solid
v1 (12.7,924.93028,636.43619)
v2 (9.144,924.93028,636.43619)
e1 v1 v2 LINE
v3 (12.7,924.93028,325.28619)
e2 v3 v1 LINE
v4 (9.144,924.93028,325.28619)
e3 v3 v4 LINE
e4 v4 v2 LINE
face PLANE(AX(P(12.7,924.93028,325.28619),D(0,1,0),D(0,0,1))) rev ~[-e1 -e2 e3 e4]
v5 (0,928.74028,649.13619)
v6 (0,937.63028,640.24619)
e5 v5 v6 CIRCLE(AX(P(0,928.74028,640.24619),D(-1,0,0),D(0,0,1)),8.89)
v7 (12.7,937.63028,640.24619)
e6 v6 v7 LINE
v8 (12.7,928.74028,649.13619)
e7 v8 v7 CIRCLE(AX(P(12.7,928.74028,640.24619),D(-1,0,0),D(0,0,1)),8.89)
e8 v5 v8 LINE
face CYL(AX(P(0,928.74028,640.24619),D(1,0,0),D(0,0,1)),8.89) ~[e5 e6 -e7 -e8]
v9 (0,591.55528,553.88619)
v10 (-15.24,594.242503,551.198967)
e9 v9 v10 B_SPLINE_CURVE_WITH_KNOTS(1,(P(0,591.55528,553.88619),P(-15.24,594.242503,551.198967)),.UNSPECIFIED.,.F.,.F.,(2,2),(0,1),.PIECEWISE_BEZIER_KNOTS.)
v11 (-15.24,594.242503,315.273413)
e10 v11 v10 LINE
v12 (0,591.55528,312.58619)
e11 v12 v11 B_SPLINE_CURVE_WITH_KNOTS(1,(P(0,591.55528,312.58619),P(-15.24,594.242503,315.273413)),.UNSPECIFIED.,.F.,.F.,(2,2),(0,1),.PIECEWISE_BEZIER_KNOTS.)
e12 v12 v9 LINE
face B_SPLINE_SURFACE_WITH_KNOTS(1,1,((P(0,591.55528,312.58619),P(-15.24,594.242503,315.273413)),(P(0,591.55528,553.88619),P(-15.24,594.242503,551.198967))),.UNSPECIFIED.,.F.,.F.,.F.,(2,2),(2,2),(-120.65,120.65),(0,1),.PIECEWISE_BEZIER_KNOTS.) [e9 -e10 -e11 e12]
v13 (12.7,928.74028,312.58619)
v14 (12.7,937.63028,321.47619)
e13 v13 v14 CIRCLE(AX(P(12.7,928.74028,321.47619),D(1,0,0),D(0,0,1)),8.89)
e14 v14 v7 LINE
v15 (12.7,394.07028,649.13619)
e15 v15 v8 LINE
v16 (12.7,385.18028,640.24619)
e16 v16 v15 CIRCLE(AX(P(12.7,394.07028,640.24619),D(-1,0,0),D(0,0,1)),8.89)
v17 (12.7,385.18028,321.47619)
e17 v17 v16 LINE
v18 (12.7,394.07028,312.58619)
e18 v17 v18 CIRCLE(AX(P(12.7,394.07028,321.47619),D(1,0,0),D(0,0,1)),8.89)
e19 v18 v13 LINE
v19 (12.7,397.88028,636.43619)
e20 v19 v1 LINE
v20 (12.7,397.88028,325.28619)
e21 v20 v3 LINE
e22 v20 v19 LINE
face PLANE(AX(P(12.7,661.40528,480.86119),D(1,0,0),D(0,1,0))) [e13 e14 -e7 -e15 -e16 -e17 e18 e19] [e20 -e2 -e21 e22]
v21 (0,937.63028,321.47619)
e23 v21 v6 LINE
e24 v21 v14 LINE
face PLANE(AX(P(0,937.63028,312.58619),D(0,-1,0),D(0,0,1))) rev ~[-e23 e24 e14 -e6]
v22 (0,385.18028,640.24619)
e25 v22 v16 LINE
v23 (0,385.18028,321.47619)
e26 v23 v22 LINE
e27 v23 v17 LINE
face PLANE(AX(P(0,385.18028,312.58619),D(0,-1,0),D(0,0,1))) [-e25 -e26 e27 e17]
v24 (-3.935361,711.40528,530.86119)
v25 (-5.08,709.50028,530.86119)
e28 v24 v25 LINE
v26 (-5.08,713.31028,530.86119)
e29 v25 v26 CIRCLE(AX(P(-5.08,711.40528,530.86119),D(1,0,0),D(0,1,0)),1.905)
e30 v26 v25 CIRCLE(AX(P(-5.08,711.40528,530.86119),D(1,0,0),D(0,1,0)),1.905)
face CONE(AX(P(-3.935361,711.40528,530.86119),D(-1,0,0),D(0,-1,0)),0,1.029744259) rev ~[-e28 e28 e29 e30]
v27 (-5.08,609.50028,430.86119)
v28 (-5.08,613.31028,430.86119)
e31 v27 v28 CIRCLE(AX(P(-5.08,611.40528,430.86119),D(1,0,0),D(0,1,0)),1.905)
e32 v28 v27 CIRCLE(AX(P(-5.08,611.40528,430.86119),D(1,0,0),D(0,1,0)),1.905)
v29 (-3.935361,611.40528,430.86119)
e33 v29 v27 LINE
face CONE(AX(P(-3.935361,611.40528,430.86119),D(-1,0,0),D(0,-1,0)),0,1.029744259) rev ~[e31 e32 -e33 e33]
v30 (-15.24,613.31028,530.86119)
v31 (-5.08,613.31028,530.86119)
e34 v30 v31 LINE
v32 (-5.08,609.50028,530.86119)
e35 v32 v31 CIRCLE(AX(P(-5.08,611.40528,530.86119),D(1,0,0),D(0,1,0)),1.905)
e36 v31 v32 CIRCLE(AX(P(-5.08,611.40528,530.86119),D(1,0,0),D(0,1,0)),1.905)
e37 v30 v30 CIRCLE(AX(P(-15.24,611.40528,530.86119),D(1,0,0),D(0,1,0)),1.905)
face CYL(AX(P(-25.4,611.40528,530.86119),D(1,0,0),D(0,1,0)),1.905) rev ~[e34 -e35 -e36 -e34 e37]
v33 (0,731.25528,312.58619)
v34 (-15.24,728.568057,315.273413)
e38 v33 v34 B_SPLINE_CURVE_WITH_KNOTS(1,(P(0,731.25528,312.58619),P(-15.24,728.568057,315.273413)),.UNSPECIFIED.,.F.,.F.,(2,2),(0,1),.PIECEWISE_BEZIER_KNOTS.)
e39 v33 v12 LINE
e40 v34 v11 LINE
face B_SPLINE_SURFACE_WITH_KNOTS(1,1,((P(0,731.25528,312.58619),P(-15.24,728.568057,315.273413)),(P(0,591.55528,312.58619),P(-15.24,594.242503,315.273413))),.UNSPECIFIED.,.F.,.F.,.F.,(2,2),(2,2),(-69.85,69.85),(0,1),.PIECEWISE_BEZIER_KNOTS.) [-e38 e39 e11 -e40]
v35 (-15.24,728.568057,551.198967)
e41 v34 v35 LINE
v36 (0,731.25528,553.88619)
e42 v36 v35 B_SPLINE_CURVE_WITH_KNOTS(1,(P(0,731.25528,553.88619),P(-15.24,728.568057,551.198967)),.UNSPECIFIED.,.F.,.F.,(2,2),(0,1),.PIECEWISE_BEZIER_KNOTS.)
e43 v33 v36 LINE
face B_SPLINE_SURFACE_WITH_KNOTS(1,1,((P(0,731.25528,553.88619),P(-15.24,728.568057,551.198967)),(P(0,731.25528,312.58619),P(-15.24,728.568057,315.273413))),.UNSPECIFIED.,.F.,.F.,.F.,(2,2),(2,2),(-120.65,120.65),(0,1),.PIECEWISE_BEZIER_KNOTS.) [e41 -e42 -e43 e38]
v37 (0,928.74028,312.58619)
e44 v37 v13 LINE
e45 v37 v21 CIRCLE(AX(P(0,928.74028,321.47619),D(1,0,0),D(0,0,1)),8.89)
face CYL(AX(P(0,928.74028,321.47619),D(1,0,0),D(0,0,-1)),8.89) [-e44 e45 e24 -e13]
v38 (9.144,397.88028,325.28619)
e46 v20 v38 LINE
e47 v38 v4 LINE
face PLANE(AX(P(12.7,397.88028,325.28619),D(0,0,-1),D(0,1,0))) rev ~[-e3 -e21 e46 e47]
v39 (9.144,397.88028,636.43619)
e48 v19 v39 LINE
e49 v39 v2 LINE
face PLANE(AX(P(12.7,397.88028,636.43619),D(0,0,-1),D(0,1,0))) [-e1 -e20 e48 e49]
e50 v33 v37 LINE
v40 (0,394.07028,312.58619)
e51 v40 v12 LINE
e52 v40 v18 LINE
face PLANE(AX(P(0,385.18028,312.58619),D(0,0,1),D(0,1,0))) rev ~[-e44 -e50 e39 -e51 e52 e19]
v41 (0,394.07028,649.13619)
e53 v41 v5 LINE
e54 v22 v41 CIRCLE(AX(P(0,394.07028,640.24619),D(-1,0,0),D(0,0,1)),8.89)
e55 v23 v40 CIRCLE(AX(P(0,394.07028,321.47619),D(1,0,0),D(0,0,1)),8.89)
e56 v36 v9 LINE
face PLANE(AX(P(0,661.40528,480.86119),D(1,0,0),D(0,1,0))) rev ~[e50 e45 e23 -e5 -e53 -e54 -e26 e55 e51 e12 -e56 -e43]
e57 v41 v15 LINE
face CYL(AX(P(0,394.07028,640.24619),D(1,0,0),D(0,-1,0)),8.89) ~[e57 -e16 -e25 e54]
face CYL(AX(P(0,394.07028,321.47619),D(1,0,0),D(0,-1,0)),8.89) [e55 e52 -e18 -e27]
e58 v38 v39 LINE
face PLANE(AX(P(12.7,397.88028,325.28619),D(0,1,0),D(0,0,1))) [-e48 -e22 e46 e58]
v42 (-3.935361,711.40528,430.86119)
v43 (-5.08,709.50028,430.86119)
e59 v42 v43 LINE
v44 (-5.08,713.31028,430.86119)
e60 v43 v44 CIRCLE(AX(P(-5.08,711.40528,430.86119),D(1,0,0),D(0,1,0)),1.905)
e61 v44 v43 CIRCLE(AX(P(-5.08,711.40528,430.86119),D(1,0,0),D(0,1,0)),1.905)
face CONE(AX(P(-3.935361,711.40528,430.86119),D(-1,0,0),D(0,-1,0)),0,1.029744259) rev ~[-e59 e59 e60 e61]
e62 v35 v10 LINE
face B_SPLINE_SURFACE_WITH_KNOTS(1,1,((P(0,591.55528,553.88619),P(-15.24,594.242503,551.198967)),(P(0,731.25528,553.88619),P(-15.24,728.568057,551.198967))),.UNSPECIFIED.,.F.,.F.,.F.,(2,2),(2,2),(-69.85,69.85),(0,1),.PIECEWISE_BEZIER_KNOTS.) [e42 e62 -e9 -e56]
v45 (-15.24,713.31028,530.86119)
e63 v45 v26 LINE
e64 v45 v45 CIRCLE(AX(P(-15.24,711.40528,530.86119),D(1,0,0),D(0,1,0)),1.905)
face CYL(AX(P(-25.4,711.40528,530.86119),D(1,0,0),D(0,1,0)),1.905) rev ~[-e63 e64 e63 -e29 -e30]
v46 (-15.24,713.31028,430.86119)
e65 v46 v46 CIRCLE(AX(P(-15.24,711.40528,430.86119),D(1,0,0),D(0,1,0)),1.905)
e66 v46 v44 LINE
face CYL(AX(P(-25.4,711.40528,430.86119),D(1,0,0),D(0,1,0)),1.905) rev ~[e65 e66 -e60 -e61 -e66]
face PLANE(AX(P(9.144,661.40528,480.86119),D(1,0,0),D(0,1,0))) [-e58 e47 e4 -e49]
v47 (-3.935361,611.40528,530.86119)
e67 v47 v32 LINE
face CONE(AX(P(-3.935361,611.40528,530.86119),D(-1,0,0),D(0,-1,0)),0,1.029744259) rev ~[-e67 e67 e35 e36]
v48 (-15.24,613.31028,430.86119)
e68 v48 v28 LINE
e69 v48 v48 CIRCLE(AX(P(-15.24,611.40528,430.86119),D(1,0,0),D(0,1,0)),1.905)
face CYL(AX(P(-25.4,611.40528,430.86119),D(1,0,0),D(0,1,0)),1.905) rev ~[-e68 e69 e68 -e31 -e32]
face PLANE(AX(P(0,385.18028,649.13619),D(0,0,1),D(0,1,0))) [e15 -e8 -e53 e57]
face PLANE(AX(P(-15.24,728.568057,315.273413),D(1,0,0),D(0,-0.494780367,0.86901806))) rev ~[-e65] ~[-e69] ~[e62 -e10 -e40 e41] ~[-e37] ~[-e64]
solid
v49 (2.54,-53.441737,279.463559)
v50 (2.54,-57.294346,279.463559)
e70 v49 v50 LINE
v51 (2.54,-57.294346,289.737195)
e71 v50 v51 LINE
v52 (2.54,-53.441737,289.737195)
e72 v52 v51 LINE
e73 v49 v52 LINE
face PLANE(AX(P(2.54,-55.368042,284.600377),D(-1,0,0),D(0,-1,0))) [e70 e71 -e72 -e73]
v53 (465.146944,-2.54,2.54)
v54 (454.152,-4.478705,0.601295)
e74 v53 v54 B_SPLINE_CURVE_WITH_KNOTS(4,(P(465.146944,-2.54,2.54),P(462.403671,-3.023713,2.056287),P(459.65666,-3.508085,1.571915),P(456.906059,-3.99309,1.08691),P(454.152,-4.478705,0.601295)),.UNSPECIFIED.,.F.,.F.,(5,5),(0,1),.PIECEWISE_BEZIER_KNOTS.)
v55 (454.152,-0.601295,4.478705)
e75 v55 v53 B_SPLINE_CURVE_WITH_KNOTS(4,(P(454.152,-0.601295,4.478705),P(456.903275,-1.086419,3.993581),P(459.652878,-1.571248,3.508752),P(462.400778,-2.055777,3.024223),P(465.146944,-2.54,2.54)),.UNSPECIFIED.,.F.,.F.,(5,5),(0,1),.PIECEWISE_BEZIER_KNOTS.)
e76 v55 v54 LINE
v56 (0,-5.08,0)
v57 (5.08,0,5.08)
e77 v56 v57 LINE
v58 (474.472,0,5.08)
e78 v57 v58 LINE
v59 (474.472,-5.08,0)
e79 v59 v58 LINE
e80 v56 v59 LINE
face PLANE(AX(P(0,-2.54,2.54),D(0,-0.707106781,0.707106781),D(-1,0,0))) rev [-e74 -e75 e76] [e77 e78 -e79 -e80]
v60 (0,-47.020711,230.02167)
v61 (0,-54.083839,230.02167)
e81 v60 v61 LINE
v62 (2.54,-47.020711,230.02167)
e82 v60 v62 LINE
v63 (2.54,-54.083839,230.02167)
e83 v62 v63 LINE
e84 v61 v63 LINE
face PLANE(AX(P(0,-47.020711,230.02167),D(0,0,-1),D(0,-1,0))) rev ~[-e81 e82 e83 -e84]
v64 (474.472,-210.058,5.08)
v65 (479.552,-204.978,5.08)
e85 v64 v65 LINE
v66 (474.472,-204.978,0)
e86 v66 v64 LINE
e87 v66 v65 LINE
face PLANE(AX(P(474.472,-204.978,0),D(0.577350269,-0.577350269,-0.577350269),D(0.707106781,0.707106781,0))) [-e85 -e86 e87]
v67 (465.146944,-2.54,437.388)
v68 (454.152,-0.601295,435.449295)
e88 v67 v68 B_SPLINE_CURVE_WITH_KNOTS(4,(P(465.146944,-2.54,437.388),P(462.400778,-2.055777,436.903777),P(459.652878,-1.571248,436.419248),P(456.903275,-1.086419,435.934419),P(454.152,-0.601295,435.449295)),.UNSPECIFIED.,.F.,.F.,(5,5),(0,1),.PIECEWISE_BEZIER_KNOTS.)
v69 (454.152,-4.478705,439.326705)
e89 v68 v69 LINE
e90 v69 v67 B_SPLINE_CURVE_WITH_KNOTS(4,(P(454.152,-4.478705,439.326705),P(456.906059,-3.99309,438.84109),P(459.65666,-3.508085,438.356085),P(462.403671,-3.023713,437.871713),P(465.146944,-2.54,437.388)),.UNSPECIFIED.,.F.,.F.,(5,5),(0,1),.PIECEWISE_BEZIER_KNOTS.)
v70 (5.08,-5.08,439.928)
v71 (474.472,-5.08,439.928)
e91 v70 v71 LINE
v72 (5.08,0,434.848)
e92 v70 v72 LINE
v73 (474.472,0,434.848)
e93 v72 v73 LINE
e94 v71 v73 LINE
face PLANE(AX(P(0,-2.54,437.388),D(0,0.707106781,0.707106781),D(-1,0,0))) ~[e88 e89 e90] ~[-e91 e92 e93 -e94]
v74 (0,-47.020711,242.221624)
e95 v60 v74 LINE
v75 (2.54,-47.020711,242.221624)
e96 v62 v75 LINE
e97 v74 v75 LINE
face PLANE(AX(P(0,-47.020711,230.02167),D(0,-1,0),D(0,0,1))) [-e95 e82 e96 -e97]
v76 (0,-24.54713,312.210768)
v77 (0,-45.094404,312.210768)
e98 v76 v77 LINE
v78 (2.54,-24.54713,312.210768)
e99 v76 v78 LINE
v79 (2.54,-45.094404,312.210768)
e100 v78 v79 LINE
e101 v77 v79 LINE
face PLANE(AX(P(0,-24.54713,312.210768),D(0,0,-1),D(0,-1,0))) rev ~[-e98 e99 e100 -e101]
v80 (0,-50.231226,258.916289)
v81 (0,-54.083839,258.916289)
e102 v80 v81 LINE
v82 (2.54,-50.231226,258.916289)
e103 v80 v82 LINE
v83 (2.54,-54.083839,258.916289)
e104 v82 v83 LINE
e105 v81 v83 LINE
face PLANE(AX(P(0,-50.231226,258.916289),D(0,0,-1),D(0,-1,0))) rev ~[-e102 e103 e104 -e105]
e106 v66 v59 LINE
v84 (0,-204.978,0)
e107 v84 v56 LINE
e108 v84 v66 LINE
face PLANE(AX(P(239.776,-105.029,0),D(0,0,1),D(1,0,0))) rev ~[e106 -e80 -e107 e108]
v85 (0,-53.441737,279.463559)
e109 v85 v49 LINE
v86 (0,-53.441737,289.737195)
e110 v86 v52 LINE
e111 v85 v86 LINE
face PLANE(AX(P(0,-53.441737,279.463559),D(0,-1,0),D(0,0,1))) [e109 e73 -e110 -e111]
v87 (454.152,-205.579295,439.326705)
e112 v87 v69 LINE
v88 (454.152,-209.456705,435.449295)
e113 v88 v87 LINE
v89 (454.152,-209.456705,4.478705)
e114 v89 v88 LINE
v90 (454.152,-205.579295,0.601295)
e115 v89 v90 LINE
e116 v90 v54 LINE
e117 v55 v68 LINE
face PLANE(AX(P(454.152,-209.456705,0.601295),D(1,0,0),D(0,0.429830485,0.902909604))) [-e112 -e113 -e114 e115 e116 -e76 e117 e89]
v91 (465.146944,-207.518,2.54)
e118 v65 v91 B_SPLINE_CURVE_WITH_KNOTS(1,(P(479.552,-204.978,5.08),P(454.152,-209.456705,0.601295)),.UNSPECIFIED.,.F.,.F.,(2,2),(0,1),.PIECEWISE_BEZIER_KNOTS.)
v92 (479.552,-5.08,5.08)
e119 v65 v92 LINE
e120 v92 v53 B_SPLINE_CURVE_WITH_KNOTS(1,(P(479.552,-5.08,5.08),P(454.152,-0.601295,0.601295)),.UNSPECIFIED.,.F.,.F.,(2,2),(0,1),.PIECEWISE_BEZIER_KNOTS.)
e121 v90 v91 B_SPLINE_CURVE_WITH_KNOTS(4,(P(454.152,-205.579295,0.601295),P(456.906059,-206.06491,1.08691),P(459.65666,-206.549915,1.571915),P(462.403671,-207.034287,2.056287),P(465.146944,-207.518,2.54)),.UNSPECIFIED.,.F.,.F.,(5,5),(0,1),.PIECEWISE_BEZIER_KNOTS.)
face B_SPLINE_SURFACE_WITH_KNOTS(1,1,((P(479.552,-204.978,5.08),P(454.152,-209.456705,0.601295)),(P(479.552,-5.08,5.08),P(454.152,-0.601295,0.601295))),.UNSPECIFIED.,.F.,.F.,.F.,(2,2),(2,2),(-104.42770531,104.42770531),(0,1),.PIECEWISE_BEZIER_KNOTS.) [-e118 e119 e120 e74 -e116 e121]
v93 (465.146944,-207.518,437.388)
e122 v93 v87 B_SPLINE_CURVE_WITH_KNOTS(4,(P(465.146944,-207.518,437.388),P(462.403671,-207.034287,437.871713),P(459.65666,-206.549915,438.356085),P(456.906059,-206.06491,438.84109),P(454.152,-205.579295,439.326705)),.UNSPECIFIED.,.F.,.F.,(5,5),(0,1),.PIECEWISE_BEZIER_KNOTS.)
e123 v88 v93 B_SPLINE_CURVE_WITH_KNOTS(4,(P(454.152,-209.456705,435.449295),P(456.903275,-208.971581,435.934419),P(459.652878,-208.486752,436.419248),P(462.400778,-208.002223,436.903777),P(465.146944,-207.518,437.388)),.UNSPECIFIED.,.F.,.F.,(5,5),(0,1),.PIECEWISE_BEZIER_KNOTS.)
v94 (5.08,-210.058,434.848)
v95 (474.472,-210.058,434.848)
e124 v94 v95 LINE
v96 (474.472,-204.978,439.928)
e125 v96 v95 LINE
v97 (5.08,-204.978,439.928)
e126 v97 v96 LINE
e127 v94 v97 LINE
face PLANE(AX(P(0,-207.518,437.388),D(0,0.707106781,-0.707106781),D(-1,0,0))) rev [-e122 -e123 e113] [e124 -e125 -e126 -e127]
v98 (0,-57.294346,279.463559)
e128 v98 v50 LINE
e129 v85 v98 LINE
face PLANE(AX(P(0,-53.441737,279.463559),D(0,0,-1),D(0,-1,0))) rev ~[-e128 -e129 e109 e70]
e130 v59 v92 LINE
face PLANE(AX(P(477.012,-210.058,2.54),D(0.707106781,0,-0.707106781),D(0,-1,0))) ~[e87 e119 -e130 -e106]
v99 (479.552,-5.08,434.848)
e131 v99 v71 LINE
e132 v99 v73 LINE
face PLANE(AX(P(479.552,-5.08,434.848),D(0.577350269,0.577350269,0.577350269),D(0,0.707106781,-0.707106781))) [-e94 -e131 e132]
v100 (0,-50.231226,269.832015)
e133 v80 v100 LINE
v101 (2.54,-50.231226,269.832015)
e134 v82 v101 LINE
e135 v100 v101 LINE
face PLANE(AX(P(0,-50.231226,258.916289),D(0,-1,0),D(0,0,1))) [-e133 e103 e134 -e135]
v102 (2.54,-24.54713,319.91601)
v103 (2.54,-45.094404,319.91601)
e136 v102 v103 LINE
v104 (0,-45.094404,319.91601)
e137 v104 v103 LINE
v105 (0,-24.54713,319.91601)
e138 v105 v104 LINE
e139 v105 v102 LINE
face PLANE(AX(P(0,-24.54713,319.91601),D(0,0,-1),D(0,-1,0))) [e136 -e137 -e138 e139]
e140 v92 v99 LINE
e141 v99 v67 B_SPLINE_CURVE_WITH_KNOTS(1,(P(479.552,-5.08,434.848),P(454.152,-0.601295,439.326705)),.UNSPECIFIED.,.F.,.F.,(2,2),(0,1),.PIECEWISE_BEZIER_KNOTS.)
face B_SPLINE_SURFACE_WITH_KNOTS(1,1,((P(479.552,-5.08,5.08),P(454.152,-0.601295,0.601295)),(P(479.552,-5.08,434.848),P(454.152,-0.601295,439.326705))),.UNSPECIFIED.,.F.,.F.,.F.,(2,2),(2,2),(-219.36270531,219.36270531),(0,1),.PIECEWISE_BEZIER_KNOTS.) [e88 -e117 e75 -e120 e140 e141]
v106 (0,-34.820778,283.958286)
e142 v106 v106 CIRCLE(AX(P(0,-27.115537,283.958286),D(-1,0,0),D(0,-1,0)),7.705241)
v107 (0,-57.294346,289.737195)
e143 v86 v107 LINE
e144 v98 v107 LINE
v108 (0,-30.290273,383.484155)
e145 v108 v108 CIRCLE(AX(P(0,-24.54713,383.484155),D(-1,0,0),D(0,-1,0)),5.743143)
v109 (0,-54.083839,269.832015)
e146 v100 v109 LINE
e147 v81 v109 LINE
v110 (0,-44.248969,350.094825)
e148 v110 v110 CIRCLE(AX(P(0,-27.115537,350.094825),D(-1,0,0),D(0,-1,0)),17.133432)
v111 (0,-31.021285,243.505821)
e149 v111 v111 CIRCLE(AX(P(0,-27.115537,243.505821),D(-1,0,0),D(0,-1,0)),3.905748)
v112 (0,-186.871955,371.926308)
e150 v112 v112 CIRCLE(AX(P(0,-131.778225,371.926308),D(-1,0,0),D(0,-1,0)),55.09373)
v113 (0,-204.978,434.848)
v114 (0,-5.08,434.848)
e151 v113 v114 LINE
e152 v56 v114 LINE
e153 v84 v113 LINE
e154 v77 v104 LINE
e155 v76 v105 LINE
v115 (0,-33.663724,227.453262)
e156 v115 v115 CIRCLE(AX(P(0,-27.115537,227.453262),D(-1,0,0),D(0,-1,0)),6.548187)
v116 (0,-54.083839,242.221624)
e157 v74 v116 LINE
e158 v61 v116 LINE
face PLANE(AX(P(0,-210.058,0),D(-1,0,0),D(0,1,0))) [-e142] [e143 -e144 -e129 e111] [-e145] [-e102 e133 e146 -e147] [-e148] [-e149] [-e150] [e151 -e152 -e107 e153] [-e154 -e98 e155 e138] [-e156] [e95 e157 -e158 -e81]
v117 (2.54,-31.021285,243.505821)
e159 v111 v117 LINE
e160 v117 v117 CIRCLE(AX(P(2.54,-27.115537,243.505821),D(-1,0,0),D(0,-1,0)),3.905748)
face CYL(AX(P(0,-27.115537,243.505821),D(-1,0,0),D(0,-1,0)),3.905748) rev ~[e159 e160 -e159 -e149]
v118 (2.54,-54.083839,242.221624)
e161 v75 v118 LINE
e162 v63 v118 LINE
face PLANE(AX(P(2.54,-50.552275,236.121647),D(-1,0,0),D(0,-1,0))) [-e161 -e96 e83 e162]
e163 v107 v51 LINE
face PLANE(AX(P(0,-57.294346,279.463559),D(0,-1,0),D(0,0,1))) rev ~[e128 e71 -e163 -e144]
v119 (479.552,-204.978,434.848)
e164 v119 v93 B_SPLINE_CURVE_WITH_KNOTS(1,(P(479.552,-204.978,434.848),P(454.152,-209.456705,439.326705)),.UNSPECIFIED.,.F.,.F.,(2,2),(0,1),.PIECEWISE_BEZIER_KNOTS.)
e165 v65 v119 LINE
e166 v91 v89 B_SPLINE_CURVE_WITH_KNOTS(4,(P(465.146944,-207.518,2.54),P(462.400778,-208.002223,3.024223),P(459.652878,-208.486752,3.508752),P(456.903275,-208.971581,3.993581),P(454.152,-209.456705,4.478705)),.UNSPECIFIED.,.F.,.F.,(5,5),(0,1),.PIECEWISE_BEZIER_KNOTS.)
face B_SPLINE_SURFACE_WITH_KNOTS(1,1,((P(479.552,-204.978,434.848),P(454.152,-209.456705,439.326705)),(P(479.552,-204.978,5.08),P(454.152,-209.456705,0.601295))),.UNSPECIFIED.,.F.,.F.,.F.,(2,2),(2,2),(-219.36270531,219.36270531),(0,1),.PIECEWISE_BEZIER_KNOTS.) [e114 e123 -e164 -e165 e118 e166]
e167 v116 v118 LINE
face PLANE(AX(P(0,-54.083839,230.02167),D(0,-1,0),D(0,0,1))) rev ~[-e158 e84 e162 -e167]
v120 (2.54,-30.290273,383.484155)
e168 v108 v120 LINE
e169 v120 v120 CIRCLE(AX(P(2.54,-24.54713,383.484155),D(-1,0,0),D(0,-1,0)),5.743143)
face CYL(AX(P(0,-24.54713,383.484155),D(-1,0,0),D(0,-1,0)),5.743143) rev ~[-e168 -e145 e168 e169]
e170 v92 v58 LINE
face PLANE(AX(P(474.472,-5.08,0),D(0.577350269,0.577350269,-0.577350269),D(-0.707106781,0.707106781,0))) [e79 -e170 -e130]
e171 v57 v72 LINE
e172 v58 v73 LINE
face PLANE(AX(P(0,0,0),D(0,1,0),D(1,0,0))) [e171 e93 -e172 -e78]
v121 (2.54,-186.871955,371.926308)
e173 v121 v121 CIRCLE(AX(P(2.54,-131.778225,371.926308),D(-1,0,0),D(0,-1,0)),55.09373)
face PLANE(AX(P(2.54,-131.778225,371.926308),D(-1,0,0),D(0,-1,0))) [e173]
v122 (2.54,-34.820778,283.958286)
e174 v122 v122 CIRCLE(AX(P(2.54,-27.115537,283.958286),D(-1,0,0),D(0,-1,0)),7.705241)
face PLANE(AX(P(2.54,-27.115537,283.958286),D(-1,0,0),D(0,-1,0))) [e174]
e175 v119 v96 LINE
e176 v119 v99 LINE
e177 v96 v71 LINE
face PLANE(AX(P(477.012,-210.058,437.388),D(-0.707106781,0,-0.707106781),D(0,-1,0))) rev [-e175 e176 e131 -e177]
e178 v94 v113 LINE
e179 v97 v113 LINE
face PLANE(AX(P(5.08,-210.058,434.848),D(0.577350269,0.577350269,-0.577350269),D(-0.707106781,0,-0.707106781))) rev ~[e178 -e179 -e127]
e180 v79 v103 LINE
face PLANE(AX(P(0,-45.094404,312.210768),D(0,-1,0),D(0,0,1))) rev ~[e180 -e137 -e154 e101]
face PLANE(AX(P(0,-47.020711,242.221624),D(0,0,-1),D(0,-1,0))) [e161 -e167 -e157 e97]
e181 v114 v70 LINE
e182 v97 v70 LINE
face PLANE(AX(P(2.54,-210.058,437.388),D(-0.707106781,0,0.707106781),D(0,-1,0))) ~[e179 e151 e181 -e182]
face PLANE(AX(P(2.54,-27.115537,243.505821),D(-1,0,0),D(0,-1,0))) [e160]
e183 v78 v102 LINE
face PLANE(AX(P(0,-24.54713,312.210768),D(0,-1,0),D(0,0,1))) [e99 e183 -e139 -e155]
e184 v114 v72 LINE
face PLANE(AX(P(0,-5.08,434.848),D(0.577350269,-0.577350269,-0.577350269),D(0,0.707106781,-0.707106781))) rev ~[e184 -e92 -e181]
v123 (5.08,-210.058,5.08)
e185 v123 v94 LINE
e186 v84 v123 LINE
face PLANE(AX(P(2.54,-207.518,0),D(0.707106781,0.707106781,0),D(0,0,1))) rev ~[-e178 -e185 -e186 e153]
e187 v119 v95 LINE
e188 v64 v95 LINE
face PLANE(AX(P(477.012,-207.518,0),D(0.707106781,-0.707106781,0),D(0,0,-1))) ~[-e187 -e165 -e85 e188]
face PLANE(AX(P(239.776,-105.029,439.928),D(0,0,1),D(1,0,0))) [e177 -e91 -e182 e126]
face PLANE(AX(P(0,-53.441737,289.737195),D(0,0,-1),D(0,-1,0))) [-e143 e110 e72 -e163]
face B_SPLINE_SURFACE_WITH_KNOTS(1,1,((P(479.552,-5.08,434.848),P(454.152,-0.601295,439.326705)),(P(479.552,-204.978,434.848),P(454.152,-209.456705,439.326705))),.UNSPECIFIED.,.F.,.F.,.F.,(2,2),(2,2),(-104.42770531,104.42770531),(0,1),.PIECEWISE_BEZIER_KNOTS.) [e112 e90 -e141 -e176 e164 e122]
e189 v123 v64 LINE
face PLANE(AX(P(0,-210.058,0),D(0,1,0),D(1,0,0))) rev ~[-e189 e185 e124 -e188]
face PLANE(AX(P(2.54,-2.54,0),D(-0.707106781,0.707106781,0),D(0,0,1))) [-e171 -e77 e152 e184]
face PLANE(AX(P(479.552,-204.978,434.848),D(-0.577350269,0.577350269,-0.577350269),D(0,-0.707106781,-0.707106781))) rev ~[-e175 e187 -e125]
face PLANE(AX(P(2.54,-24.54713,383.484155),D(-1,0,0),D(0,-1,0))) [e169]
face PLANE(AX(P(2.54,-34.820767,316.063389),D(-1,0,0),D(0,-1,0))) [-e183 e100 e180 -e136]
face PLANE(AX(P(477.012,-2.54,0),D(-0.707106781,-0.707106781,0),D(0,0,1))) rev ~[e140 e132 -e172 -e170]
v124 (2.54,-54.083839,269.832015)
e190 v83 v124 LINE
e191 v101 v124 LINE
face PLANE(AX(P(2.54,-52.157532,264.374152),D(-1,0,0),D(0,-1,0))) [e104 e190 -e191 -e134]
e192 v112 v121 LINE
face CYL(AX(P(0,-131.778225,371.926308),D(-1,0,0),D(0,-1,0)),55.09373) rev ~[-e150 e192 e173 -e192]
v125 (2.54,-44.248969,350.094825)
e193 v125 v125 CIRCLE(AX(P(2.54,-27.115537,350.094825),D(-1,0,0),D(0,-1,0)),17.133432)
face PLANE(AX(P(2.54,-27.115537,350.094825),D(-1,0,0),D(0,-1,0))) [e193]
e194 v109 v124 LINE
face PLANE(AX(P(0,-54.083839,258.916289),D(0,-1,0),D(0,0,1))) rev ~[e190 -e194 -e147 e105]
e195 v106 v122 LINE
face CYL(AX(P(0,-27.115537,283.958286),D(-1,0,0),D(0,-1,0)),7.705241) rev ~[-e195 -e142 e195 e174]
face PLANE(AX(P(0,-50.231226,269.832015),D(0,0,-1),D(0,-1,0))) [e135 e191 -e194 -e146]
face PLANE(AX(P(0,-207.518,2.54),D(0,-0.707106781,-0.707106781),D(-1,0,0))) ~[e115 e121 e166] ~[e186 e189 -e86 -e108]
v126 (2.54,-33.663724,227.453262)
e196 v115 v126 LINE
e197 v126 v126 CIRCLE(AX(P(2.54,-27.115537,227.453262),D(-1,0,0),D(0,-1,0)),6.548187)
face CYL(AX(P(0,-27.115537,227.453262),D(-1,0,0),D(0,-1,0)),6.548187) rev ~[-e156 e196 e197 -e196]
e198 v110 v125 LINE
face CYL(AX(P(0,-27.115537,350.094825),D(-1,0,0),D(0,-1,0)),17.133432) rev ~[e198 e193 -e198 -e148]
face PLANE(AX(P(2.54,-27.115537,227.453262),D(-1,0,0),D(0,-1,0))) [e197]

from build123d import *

# Parameters (mm, degrees)
F0_W       = 479.552
F0_H       = 210.058
F1_DEPTH   = 439.928
F2_SIZE    = 5.08
F3_R       = 5.7431434396
F3_R_2     = 17.1334316856
F3_R_3     = 7.7052414417
F3_R_4     = 3.9057479248
F3_R_5     = 6.5481874327
F3_W       = 20.5472745001
F3_H       = 7.7052414417
F3_W_2     = 3.852609545
F3_H_2     = 10.2736353874
F3_W_3     = 3.8526132703
F3_H_3     = 10.9157264233
F3_W_4     = 7.0631280541
F3_H_4     = 12.1999531984
F3_R_6     = 55.0937295808
F4_DEPTH   = 2.54
F1_FACE1_W = 199.898
F1_FACE1_H = 429.768
F5_DEPTH   = 25.4
F5_TAPER   = -10
F6_W       = 552.45
F6_H       = 336.55
F7_DEPTH   = 12.7
F8_W       = 139.7
F8_H       = 241.3
F9_DEPTH   = 15.24
F9_TAPER   = 10
F10_W      = 527.05
F10_H      = 311.15
F11_DEPTH  = 3.556
F12_R      = 8.89
F14_D      = 3.81
F14_DEPTH  = 10.16
F14_TIP    = 1.1446394792


with BuildPart() as f1:
    # F0 (on Top) → F1 (new body)
    with BuildSketch(Plane.XY):
        with Locations((239.776, -105.029)):
            Rectangle(F0_W, F0_H)
    extrude(amount=F1_DEPTH)

    # F2
    f2_edges = [f1.edges().sort_by_distance(p)[0] for p in [
        (239.776, 0, 439.928),
        (0, -105.029, 439.928),
        (239.776, -210.058, 439.928),
        (479.552, -105.029, 439.928),
        (0, -210.058, 219.964),
        (479.552, -210.058, 219.964),
        (239.776, -210.058, 0),
        (479.552, 0, 219.964),
        (479.552, -105.029, 0),
        (0, 0, 219.964),
        (239.776, 0, 0),
    ]]
    chamfer(f2_edges, length=F2_SIZE)

    # F3 (on face) → F4 (cut)
    with BuildSketch(Plane(origin=(0, 0, 0), x_dir=(0, -1, 0), z_dir=(-1, 0, 0))):
        with Locations((24.5471298695, 383.4841549397)):
            Circle(F3_R)
        with Locations((27.1155368537, 350.0948250294)):
            Circle(F3_R_2)
        with Locations((27.1155368537, 283.958286047)):
            Circle(F3_R_3)
        with Locations((27.1155368537, 243.505820632)):
            Circle(F3_R_4)
        with Locations((27.1155368537, 227.4532616138)):
            Circle(F3_R_5)
        with Locations((34.8207671195, 316.0633891821)):
            Rectangle(F3_W, F3_H)
        with Locations((55.3680416197, 284.6003770828)):
            Rectangle(F3_W_2, F3_H_2)
        with Locations((52.1575324237, 264.3741518259)):
            Rectangle(F3_W_3, F3_H_3)
        with Locations((50.5522750318, 236.1216470599)):
            Rectangle(F3_W_4, F3_H_4)
        with Locations((131.7782253027, 371.9263076782)):
            Circle(F3_R_6)
    extrude(amount=-F4_DEPTH, mode=Mode.SUBTRACT)

    # F1_face1 (on face) → F5 (cut)
    with BuildSketch(Plane(origin=(479.552, -105.029, 219.964), x_dir=(0, 1, 0), z_dir=(1, 0, 0))):
        Rectangle(F1_FACE1_W, F1_FACE1_H)
    extrude(amount=-F5_DEPTH, taper=F5_TAPER, mode=Mode.SUBTRACT)


with BuildPart() as f7:
    # F6 (on Right) → F7 (new body)
    with BuildSketch(Plane.YZ):
        with Locations((661.4052802324, 480.8611900917)):
            Rectangle(F6_W, F6_H)
    extrude(amount=F7_DEPTH)

    # F8 (on face) → F9 (join)
    with BuildSketch(Plane(origin=(0, 0, 0), x_dir=(0, -1, 0), z_dir=(-1, 0, 0))):
        with Locations((-661.4052802324, 433.2361900917)):
            Rectangle(F8_W, F8_H)
    extrude(amount=F9_DEPTH, taper=F9_TAPER)

    # F10 (on face) → F11 (cut)
    with BuildSketch(Plane.YZ.offset(12.7)):
        with Locations((661.4052802324, 480.8611900917)):
            Rectangle(F10_W, F10_H)
    extrude(amount=-F11_DEPTH, mode=Mode.SUBTRACT)

    # F12
    f12_edges = [f7.edges().sort_by_distance(p)[0] for p in [
        (6.35, 385.18028, 649.13619),
        (6.35, 937.63028, 649.13619),
        (6.35, 937.63028, 312.58619),
        (6.35, 385.18028, 312.58619),
    ]]
    fillet(f12_edges, radius=F12_R)

    # F14
    with Locations(Plane(origin=(-15.24, 0, 0), x_dir=(0, -1, 0), z_dir=(-1, 0, 0))):
        with Locations((-711.4052802324, 530.8611900917), (-711.4052802324, 430.8611900917), (-611.4052802324, 430.8611900917), (-611.4052802324, 530.8611900917)):
            Hole(F14_D / 2, depth=F14_DEPTH)
            with Locations((0, 0, -(F14_DEPTH + F14_TIP / 2))):  # 118° drill point
                Cone(0, F14_D / 2, F14_TIP, mode=Mode.SUBTRACT)


solid = Compound([f1.part, f7.part])
